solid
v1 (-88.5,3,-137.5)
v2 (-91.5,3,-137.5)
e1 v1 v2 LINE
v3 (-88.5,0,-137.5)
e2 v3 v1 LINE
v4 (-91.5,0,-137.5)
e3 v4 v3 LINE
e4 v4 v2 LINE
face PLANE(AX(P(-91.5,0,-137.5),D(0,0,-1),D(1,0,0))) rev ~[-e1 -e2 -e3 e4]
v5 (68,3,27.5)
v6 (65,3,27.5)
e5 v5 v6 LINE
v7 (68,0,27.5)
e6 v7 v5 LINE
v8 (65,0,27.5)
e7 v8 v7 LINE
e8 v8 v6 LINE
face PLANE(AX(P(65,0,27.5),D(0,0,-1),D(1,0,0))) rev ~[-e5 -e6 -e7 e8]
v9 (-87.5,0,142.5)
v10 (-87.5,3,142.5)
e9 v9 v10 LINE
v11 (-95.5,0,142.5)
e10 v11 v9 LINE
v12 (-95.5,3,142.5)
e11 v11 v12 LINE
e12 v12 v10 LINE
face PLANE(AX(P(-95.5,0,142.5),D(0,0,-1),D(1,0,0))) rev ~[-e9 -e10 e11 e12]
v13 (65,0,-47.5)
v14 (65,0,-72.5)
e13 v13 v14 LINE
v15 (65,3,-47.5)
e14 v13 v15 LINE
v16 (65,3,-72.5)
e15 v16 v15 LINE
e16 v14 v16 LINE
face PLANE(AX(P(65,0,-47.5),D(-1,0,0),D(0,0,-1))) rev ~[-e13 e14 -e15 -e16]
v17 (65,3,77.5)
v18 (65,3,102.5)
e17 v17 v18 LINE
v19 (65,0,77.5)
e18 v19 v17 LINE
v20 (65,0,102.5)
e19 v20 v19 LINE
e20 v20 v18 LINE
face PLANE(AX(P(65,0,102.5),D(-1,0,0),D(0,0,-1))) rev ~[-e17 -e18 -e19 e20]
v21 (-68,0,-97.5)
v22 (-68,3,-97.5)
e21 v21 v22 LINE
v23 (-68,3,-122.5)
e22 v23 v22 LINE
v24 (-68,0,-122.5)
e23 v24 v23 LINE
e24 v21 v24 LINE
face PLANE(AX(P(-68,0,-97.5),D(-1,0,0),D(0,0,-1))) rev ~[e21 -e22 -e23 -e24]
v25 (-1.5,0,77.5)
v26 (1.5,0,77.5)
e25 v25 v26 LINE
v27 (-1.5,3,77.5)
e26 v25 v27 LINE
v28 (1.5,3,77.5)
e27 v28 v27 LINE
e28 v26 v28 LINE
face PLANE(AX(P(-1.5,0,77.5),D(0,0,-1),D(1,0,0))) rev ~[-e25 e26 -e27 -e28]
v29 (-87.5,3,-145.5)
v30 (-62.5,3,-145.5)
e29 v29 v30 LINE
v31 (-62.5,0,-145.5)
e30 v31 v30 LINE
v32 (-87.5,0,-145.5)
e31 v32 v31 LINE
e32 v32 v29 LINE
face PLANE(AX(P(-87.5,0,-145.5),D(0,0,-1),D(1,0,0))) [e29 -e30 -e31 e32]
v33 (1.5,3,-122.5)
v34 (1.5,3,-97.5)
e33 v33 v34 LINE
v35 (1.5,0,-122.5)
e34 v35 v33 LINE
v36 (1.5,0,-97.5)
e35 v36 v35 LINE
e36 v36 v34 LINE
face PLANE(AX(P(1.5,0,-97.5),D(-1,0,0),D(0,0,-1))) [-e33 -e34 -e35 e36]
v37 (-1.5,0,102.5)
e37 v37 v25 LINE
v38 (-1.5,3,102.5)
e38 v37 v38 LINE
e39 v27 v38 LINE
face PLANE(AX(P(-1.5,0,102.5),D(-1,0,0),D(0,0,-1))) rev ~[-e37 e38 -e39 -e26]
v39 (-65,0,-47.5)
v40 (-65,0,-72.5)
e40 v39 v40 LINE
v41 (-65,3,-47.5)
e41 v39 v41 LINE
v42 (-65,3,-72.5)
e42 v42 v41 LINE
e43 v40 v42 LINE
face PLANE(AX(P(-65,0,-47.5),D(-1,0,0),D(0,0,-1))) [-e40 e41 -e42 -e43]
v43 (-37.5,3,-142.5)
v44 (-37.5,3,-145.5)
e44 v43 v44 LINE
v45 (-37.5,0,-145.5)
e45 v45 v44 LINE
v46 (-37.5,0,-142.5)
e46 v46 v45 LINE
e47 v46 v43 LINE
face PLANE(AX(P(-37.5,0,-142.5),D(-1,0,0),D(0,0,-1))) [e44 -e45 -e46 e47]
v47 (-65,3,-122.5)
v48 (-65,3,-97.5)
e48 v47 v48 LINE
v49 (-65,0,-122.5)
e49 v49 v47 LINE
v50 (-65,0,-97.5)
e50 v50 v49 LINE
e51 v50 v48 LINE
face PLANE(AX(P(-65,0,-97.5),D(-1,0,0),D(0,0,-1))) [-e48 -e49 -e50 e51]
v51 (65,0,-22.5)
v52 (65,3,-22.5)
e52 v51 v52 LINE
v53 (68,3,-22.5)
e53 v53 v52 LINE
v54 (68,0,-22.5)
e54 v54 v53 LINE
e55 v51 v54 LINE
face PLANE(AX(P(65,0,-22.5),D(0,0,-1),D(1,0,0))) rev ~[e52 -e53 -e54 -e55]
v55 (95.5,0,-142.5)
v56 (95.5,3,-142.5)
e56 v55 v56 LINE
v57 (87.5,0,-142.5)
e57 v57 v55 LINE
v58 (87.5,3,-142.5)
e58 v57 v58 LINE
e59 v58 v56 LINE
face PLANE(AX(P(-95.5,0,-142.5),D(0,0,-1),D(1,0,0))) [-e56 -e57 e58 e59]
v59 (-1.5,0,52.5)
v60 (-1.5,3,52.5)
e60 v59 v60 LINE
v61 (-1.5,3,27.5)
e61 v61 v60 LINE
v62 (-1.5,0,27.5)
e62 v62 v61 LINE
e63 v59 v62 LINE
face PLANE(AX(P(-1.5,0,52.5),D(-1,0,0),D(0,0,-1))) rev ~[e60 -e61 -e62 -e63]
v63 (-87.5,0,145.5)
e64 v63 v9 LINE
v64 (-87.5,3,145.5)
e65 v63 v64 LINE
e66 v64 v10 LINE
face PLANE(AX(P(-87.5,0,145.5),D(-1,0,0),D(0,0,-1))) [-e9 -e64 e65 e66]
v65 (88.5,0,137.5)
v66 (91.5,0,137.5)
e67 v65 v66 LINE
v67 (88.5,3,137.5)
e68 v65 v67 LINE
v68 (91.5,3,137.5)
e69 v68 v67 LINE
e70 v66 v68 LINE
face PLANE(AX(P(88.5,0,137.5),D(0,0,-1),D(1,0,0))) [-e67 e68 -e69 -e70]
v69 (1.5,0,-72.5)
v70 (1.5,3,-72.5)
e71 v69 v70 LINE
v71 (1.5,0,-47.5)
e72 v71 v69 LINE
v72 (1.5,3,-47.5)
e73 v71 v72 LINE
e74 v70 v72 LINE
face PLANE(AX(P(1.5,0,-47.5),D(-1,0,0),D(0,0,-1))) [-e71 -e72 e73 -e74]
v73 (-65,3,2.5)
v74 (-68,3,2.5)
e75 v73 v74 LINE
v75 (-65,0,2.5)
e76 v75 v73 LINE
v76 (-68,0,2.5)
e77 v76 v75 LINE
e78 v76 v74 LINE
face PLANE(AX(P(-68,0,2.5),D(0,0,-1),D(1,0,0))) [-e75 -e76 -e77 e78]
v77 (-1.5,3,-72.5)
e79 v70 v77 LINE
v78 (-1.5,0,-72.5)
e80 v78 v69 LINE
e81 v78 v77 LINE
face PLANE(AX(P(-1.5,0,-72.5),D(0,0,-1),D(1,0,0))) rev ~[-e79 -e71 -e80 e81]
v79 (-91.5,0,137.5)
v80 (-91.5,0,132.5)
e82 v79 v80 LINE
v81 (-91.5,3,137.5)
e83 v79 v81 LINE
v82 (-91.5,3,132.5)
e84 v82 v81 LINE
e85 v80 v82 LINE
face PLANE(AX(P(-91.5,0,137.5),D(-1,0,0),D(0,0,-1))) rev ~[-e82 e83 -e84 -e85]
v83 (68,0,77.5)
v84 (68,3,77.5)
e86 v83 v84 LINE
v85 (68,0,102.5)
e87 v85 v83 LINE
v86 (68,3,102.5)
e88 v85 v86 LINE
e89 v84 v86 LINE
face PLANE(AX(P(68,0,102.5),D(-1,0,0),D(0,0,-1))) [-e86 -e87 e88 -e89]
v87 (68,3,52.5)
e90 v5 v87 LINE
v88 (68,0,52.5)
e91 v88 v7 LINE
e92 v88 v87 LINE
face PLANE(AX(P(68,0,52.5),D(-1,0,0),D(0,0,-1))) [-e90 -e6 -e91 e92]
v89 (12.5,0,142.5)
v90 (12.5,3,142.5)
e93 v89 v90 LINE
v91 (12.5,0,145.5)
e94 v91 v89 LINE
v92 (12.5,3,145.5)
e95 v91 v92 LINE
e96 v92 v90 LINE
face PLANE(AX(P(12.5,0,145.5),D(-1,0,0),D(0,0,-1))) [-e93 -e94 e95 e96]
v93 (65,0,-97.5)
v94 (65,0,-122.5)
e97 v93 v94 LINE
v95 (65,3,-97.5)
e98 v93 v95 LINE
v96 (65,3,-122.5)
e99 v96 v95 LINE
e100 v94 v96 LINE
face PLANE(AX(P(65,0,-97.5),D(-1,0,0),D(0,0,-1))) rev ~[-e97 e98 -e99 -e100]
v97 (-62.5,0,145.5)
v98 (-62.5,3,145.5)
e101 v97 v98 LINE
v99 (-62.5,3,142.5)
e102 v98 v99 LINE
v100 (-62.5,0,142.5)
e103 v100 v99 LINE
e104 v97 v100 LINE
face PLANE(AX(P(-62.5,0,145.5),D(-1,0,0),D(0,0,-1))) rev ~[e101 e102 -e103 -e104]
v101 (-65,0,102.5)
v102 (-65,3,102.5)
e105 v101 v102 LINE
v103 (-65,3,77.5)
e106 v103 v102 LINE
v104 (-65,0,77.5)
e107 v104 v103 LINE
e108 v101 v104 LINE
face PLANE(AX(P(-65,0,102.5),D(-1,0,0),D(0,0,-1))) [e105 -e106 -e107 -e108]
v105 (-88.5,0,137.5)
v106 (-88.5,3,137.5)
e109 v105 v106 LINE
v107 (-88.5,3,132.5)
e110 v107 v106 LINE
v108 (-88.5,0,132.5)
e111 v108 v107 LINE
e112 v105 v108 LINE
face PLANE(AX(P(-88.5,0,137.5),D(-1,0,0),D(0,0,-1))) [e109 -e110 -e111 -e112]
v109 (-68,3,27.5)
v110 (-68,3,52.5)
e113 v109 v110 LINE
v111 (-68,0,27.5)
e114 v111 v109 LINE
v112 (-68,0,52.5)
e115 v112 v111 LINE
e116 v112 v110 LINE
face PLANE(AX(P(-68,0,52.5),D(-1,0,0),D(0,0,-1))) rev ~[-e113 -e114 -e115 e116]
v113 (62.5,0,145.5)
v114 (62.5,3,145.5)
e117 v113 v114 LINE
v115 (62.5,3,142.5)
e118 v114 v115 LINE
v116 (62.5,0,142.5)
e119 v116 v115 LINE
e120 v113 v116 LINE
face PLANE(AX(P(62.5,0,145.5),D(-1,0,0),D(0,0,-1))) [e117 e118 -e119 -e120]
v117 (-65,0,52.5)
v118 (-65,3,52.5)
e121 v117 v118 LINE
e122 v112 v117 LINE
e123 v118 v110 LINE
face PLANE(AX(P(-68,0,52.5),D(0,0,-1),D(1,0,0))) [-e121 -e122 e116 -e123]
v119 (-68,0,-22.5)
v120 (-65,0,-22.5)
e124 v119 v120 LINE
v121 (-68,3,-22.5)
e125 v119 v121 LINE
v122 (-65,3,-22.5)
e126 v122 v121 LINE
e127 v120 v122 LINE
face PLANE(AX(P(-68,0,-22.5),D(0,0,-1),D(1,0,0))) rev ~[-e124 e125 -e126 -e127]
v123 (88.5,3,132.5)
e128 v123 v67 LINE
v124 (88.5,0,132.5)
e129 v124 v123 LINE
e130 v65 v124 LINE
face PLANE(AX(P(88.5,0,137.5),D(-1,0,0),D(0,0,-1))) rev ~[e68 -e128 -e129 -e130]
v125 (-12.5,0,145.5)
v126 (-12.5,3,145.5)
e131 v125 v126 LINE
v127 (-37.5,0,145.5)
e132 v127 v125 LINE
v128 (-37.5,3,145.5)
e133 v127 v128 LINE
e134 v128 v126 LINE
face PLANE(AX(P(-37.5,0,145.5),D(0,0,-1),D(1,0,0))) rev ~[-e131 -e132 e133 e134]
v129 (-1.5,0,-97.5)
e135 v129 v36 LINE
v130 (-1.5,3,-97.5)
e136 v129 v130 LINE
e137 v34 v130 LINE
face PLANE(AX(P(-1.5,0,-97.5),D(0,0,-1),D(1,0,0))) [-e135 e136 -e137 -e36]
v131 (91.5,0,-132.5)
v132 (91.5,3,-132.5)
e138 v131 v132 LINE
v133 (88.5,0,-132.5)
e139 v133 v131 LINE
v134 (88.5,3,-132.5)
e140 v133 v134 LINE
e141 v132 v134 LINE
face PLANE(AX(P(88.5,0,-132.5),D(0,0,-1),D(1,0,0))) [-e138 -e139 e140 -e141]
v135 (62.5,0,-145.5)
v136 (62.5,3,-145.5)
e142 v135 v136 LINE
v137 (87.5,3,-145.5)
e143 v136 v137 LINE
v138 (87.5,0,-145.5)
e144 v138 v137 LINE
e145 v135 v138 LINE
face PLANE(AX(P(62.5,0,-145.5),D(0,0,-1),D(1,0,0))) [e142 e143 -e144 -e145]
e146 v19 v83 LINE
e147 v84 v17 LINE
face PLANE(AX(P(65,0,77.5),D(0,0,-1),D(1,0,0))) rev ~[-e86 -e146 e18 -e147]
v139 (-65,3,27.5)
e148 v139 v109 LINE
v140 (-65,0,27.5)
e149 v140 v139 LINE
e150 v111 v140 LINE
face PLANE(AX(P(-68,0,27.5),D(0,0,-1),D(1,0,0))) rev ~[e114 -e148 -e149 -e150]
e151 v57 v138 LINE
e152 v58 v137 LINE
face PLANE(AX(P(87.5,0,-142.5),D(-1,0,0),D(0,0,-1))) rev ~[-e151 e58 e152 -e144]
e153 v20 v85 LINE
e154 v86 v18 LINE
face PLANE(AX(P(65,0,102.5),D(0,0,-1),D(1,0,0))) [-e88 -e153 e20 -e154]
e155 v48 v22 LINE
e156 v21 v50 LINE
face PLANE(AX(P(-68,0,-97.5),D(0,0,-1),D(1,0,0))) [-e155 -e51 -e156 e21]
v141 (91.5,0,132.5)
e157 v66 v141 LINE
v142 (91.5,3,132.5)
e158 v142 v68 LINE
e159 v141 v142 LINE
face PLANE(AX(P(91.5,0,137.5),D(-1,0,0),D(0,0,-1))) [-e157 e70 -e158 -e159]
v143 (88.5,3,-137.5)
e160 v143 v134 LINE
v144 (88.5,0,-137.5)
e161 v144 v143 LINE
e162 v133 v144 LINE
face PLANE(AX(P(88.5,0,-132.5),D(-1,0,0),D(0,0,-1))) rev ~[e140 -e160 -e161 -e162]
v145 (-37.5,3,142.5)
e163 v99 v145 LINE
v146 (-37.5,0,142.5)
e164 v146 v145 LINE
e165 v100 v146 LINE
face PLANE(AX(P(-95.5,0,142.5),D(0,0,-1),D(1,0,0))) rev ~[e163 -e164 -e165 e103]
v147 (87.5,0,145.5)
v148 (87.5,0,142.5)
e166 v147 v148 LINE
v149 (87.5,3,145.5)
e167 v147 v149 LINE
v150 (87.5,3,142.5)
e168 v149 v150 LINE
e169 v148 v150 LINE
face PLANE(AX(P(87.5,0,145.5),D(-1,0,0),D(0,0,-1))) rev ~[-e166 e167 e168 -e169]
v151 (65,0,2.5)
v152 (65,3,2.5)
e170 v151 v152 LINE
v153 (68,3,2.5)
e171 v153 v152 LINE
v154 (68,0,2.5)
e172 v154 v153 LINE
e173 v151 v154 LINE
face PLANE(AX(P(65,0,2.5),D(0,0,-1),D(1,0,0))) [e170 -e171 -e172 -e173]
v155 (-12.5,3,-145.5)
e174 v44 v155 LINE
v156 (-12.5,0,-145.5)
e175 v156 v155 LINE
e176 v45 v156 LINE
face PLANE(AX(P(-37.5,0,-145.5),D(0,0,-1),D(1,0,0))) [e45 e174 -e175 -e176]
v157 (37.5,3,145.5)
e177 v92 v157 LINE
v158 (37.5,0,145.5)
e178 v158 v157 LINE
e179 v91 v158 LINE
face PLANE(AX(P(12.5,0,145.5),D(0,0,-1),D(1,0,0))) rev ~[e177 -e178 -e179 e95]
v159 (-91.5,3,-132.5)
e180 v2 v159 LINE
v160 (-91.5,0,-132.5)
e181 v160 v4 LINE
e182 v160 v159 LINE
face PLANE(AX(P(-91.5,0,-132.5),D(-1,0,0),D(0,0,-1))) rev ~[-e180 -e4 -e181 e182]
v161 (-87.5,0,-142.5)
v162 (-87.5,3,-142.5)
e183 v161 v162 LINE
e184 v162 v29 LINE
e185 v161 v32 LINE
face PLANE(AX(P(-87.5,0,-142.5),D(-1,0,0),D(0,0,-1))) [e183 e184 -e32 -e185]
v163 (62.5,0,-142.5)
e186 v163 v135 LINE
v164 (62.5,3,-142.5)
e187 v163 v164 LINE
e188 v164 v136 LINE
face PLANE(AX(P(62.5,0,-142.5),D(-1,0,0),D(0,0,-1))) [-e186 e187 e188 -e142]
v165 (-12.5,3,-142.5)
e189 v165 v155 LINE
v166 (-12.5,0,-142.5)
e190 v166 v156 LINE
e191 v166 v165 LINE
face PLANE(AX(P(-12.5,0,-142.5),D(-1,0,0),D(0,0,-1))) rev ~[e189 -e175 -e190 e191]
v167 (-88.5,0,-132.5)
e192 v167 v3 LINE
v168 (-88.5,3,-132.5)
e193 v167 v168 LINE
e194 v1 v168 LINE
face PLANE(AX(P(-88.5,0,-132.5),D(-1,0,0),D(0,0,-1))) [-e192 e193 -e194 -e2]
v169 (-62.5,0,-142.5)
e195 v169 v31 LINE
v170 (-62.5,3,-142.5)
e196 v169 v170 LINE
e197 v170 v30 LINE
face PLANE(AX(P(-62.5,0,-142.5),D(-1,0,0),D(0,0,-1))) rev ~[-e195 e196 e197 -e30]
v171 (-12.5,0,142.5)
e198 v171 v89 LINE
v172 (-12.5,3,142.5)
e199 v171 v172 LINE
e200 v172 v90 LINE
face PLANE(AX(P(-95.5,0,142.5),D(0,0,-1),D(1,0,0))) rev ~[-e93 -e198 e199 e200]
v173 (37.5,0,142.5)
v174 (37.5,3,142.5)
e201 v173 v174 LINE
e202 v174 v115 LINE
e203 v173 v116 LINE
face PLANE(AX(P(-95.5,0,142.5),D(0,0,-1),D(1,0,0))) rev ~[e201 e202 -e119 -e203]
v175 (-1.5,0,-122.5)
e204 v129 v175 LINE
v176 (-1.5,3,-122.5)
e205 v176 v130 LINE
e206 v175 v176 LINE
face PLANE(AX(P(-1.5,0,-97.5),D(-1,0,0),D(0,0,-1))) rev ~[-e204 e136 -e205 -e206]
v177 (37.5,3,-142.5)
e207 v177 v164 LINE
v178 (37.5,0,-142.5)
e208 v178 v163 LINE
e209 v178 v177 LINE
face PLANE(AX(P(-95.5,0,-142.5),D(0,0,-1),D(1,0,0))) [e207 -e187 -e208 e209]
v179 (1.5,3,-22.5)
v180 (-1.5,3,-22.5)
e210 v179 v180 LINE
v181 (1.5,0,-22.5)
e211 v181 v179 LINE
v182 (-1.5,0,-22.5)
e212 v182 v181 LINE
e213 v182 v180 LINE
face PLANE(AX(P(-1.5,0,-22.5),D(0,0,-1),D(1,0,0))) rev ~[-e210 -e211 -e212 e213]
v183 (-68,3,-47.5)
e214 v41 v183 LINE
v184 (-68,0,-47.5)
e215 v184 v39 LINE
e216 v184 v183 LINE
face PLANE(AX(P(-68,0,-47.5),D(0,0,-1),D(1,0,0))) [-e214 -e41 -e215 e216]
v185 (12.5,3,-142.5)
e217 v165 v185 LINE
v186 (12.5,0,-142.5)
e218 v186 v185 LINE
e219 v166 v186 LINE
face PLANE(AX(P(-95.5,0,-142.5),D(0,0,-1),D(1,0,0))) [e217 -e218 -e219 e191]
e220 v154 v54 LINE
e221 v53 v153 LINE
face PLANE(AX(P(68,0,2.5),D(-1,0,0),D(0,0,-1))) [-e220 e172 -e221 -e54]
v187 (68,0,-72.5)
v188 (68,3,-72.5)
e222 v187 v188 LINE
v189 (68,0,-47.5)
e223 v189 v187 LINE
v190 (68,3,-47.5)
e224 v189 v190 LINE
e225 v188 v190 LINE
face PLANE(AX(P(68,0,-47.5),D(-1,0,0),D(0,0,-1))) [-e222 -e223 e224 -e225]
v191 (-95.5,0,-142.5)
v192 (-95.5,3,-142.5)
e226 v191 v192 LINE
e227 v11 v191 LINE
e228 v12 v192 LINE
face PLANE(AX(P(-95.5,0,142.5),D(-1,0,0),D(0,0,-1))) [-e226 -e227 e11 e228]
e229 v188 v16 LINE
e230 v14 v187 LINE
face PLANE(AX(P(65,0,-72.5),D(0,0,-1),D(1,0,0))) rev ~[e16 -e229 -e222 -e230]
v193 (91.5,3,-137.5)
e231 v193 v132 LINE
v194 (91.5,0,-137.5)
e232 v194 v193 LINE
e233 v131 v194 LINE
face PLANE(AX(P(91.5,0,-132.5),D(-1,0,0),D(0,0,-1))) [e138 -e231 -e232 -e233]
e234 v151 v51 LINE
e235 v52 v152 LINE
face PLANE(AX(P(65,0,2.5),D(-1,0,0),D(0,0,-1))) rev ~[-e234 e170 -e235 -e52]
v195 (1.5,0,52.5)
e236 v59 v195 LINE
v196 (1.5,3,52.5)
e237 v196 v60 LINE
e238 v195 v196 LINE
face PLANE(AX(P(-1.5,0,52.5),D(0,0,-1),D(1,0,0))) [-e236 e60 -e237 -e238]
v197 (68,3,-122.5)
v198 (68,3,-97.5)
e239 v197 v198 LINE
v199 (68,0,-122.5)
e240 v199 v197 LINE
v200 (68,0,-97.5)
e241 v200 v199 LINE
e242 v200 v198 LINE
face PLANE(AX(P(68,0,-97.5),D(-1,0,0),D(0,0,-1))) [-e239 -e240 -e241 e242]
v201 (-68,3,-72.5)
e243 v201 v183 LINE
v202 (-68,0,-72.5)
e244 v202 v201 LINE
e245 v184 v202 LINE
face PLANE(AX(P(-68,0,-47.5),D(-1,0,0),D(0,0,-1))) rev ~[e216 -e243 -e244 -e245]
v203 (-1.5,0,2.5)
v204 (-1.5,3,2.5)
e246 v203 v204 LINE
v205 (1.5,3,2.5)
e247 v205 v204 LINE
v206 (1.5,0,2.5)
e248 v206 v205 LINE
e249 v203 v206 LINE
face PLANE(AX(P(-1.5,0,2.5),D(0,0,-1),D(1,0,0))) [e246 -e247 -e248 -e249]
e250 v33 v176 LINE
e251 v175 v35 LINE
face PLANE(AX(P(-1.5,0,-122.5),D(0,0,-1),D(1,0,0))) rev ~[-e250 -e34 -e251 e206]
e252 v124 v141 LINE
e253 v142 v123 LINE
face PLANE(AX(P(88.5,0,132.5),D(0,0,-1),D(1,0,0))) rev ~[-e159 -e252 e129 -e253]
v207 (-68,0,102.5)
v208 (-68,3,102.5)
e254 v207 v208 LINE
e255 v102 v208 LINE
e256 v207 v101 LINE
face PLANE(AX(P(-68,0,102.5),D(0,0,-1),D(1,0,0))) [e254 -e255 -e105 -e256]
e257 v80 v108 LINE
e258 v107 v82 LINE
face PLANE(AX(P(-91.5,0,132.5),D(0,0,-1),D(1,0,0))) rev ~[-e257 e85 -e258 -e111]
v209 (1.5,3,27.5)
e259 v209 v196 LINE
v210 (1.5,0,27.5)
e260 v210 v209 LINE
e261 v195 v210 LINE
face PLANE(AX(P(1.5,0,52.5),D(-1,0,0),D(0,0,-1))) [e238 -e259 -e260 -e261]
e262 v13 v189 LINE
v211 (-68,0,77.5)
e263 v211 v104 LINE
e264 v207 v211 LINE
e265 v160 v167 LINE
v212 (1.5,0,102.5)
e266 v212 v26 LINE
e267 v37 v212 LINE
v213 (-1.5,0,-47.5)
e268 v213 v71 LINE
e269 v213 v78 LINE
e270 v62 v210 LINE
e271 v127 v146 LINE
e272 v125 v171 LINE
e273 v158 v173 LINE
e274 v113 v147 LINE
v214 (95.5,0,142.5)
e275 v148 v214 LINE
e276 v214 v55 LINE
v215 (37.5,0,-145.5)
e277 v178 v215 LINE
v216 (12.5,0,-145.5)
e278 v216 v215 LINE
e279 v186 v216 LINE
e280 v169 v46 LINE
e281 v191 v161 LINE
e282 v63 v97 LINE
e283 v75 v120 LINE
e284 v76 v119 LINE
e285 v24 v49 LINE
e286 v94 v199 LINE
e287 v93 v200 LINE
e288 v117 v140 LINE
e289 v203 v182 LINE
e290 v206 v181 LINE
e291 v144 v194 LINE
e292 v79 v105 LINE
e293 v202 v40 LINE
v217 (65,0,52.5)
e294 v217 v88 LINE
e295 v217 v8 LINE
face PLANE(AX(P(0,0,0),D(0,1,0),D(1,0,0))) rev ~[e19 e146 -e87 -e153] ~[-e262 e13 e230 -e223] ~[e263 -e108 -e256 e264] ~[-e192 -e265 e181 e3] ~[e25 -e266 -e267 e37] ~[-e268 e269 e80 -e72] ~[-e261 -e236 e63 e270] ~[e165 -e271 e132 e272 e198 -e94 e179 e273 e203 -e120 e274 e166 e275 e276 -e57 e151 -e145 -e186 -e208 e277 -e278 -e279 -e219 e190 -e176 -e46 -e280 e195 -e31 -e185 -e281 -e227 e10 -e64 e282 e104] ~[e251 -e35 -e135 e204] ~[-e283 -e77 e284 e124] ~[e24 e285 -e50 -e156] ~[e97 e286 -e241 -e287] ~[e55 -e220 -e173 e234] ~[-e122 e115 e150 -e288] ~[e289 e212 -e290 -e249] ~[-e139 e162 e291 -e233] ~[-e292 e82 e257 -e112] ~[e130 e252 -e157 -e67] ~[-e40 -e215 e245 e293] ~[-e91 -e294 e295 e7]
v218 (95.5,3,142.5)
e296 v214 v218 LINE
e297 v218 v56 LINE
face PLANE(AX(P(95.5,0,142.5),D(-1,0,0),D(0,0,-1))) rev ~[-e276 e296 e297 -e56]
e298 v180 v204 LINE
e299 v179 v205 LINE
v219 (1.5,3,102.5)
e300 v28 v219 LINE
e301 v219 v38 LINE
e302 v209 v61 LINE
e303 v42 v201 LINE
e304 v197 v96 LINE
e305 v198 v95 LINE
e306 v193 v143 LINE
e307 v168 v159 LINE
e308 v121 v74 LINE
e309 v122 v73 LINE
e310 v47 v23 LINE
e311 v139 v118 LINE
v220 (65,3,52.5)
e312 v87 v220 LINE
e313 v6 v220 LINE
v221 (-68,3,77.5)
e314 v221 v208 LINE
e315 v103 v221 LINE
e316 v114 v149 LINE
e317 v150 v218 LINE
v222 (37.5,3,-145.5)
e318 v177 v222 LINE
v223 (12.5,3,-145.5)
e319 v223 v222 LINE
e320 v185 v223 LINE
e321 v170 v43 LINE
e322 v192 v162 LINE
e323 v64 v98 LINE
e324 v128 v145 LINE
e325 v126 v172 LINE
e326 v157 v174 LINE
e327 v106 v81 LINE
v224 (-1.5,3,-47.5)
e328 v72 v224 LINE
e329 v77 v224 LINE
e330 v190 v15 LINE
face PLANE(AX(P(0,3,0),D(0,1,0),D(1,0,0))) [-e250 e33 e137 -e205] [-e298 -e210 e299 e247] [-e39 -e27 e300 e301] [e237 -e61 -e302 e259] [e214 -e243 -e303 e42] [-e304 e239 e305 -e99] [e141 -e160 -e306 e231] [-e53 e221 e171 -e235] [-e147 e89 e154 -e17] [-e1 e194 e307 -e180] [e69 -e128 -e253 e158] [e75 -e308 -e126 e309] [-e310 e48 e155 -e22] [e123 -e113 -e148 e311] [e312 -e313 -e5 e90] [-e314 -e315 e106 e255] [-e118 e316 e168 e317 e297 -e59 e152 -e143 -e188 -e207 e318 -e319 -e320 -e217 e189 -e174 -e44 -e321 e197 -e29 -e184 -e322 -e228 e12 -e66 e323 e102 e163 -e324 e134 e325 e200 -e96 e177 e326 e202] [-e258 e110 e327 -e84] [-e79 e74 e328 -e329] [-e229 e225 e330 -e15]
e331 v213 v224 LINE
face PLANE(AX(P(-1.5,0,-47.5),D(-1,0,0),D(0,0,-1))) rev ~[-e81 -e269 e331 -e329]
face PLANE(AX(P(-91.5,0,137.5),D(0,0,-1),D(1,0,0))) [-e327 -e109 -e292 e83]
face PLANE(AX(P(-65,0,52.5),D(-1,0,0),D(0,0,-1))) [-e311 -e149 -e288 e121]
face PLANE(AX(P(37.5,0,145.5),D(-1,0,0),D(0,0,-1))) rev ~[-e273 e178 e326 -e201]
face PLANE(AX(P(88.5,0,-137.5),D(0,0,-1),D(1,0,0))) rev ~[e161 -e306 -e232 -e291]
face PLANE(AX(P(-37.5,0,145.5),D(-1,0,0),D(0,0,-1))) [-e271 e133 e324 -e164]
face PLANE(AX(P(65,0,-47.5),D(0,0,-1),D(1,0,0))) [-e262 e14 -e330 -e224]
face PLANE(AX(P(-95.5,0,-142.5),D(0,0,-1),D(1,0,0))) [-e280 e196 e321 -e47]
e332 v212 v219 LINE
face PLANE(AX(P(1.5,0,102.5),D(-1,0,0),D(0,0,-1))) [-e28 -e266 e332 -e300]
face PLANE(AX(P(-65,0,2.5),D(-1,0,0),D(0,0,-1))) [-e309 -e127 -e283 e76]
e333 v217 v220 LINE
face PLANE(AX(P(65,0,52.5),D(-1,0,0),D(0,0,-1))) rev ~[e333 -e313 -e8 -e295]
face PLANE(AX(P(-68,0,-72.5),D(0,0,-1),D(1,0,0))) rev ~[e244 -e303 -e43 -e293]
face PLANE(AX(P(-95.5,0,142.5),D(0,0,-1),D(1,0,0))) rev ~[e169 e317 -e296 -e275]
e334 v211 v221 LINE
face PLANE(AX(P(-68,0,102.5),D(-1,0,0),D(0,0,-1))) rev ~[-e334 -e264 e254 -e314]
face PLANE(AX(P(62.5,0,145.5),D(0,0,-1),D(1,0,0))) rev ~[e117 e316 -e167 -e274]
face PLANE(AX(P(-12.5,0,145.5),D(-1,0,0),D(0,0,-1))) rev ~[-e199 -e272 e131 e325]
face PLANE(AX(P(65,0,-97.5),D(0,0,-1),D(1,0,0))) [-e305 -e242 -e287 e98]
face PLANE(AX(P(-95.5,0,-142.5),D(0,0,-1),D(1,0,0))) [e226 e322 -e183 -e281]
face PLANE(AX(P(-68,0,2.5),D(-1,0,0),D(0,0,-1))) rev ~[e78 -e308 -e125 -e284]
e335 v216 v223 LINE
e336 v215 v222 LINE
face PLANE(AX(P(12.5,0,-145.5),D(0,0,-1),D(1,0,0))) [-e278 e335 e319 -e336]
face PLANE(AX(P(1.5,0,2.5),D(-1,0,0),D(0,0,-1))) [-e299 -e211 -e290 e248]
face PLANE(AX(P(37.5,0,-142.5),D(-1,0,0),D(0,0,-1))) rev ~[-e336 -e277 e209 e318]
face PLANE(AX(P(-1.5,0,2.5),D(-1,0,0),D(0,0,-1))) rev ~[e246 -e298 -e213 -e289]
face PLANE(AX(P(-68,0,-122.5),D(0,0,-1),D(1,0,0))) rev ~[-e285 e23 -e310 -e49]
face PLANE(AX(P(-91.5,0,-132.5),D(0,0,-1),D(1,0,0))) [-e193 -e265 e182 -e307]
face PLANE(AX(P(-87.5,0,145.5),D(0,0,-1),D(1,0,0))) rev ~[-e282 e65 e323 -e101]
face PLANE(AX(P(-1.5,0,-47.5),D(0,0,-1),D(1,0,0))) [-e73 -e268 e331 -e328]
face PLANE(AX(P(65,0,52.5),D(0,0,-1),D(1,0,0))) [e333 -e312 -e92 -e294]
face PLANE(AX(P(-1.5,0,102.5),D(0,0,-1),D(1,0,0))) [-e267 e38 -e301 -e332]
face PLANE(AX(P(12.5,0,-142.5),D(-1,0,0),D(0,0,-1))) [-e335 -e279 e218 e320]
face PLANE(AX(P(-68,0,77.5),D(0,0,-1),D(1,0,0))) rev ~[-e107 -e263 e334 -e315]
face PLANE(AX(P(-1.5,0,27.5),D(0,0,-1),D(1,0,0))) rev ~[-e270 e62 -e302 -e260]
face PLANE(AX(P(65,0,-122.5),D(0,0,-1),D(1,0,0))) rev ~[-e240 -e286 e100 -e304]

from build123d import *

# Parameters (mm, degrees)
SKICA1_W                 = 191
SKICA1_H                 = 285
P_IDAT_VYSUNUT_M1_DEPTH  = 3
SKICA7_W                 = 25
SKICA7_H                 = 3
P_IDAT_VYSUNUT_M2_DEPTH  = 3
SKICA6_W                 = 3
SKICA6_H                 = 5
ODEBRAT_VYSUNUT_M6_DEPTH = 175.067515637
SKICA4_W                 = 3
SKICA4_H                 = 25
ODEBRAT_VYSUNUT_M3_DEPTH = 175.067515637


with BuildPart() as part:
    # Skica1 → Přidat vysunutím1 (new body)
    with BuildSketch(Plane(origin=(0, 0, 0), x_dir=(1, 0, 0), z_dir=(0, 1, 0))):
        Rectangle(SKICA1_W, SKICA1_H)
    extrude(amount=P_IDAT_VYSUNUT_M1_DEPTH)

    # Skica7 → Přidat vysunutím2 (add)
    with BuildSketch(Plane(origin=(0, 0, 0), x_dir=(1, 0, 0), z_dir=(0, 1, 0))):
        with Locations((-75, -144)):
            Rectangle(SKICA7_W, SKICA7_H)
        with Locations((-25, -144)):
            Rectangle(SKICA7_W, SKICA7_H)
        with Locations((25, -144)):
            Rectangle(SKICA7_W, SKICA7_H)
        with Locations((75, -144)):
            Rectangle(SKICA7_W, SKICA7_H)
        with Locations((75, 144)):
            Rectangle(SKICA7_W, SKICA7_H)
        with Locations((25, 144)):
            Rectangle(SKICA7_W, SKICA7_H)
        with Locations((-25, 144)):
            Rectangle(SKICA7_W, SKICA7_H)
        with Locations((-75, 144)):
            Rectangle(SKICA7_W, SKICA7_H)
    extrude(amount=P_IDAT_VYSUNUT_M2_DEPTH)

    # Skica6 → Odebrat vysunutím6 (cut, through all)
    with BuildSketch(Plane(origin=(0, 0, 0), x_dir=(1, 0, 0), z_dir=(0, 1, 0))):
        with Locations((-90, -135)):
            Rectangle(SKICA6_W, SKICA6_H)
        with Locations((90, -135)):
            Rectangle(SKICA6_W, SKICA6_H)
        with Locations((90, 135)):
            Rectangle(SKICA6_W, SKICA6_H)
        with Locations((-90, 135)):
            Rectangle(SKICA6_W, SKICA6_H)
    extrude(amount=ODEBRAT_VYSUNUT_M6_DEPTH, mode=Mode.SUBTRACT)

    # Skica4 → Odebrat vysunutím3 (cut, through all)
    with BuildSketch(Plane(origin=(0, 0, 0), x_dir=(1, 0, 0), z_dir=(0, 1, 0))):
        with Locations((-66.5, 110)):
            Rectangle(SKICA4_W, SKICA4_H)
        with Locations((0, 110)):
            Rectangle(SKICA4_W, SKICA4_H)
        with Locations((66.5, 110)):
            Rectangle(SKICA4_W, SKICA4_H)
        with Locations((66.5, 60)):
            Rectangle(SKICA4_W, SKICA4_H)
        with Locations((0, 60)):
            Rectangle(SKICA4_W, SKICA4_H)
        with Locations((-66.5, 60)):
            Rectangle(SKICA4_W, SKICA4_H)
        with Locations((66.5, 10)):
            Rectangle(SKICA4_W, SKICA4_H)
        with Locations((0, 10)):
            Rectangle(SKICA4_W, SKICA4_H)
        with Locations((-66.5, 10)):
            Rectangle(SKICA4_W, SKICA4_H)
        with Locations((66.5, -40)):
            Rectangle(SKICA4_W, SKICA4_H)
        with Locations((0, -40)):
            Rectangle(SKICA4_W, SKICA4_H)
        with Locations((-66.5, -40)):
            Rectangle(SKICA4_W, SKICA4_H)
        with Locations((66.5, -90)):
            Rectangle(SKICA4_W, SKICA4_H)
        with Locations((0, -90)):
            Rectangle(SKICA4_W, SKICA4_H)
        with Locations((-66.5, -90)):
            Rectangle(SKICA4_W, SKICA4_H)
    extrude(amount=ODEBRAT_VYSUNUT_M3_DEPTH, mode=Mode.SUBTRACT)


solid = part.part
